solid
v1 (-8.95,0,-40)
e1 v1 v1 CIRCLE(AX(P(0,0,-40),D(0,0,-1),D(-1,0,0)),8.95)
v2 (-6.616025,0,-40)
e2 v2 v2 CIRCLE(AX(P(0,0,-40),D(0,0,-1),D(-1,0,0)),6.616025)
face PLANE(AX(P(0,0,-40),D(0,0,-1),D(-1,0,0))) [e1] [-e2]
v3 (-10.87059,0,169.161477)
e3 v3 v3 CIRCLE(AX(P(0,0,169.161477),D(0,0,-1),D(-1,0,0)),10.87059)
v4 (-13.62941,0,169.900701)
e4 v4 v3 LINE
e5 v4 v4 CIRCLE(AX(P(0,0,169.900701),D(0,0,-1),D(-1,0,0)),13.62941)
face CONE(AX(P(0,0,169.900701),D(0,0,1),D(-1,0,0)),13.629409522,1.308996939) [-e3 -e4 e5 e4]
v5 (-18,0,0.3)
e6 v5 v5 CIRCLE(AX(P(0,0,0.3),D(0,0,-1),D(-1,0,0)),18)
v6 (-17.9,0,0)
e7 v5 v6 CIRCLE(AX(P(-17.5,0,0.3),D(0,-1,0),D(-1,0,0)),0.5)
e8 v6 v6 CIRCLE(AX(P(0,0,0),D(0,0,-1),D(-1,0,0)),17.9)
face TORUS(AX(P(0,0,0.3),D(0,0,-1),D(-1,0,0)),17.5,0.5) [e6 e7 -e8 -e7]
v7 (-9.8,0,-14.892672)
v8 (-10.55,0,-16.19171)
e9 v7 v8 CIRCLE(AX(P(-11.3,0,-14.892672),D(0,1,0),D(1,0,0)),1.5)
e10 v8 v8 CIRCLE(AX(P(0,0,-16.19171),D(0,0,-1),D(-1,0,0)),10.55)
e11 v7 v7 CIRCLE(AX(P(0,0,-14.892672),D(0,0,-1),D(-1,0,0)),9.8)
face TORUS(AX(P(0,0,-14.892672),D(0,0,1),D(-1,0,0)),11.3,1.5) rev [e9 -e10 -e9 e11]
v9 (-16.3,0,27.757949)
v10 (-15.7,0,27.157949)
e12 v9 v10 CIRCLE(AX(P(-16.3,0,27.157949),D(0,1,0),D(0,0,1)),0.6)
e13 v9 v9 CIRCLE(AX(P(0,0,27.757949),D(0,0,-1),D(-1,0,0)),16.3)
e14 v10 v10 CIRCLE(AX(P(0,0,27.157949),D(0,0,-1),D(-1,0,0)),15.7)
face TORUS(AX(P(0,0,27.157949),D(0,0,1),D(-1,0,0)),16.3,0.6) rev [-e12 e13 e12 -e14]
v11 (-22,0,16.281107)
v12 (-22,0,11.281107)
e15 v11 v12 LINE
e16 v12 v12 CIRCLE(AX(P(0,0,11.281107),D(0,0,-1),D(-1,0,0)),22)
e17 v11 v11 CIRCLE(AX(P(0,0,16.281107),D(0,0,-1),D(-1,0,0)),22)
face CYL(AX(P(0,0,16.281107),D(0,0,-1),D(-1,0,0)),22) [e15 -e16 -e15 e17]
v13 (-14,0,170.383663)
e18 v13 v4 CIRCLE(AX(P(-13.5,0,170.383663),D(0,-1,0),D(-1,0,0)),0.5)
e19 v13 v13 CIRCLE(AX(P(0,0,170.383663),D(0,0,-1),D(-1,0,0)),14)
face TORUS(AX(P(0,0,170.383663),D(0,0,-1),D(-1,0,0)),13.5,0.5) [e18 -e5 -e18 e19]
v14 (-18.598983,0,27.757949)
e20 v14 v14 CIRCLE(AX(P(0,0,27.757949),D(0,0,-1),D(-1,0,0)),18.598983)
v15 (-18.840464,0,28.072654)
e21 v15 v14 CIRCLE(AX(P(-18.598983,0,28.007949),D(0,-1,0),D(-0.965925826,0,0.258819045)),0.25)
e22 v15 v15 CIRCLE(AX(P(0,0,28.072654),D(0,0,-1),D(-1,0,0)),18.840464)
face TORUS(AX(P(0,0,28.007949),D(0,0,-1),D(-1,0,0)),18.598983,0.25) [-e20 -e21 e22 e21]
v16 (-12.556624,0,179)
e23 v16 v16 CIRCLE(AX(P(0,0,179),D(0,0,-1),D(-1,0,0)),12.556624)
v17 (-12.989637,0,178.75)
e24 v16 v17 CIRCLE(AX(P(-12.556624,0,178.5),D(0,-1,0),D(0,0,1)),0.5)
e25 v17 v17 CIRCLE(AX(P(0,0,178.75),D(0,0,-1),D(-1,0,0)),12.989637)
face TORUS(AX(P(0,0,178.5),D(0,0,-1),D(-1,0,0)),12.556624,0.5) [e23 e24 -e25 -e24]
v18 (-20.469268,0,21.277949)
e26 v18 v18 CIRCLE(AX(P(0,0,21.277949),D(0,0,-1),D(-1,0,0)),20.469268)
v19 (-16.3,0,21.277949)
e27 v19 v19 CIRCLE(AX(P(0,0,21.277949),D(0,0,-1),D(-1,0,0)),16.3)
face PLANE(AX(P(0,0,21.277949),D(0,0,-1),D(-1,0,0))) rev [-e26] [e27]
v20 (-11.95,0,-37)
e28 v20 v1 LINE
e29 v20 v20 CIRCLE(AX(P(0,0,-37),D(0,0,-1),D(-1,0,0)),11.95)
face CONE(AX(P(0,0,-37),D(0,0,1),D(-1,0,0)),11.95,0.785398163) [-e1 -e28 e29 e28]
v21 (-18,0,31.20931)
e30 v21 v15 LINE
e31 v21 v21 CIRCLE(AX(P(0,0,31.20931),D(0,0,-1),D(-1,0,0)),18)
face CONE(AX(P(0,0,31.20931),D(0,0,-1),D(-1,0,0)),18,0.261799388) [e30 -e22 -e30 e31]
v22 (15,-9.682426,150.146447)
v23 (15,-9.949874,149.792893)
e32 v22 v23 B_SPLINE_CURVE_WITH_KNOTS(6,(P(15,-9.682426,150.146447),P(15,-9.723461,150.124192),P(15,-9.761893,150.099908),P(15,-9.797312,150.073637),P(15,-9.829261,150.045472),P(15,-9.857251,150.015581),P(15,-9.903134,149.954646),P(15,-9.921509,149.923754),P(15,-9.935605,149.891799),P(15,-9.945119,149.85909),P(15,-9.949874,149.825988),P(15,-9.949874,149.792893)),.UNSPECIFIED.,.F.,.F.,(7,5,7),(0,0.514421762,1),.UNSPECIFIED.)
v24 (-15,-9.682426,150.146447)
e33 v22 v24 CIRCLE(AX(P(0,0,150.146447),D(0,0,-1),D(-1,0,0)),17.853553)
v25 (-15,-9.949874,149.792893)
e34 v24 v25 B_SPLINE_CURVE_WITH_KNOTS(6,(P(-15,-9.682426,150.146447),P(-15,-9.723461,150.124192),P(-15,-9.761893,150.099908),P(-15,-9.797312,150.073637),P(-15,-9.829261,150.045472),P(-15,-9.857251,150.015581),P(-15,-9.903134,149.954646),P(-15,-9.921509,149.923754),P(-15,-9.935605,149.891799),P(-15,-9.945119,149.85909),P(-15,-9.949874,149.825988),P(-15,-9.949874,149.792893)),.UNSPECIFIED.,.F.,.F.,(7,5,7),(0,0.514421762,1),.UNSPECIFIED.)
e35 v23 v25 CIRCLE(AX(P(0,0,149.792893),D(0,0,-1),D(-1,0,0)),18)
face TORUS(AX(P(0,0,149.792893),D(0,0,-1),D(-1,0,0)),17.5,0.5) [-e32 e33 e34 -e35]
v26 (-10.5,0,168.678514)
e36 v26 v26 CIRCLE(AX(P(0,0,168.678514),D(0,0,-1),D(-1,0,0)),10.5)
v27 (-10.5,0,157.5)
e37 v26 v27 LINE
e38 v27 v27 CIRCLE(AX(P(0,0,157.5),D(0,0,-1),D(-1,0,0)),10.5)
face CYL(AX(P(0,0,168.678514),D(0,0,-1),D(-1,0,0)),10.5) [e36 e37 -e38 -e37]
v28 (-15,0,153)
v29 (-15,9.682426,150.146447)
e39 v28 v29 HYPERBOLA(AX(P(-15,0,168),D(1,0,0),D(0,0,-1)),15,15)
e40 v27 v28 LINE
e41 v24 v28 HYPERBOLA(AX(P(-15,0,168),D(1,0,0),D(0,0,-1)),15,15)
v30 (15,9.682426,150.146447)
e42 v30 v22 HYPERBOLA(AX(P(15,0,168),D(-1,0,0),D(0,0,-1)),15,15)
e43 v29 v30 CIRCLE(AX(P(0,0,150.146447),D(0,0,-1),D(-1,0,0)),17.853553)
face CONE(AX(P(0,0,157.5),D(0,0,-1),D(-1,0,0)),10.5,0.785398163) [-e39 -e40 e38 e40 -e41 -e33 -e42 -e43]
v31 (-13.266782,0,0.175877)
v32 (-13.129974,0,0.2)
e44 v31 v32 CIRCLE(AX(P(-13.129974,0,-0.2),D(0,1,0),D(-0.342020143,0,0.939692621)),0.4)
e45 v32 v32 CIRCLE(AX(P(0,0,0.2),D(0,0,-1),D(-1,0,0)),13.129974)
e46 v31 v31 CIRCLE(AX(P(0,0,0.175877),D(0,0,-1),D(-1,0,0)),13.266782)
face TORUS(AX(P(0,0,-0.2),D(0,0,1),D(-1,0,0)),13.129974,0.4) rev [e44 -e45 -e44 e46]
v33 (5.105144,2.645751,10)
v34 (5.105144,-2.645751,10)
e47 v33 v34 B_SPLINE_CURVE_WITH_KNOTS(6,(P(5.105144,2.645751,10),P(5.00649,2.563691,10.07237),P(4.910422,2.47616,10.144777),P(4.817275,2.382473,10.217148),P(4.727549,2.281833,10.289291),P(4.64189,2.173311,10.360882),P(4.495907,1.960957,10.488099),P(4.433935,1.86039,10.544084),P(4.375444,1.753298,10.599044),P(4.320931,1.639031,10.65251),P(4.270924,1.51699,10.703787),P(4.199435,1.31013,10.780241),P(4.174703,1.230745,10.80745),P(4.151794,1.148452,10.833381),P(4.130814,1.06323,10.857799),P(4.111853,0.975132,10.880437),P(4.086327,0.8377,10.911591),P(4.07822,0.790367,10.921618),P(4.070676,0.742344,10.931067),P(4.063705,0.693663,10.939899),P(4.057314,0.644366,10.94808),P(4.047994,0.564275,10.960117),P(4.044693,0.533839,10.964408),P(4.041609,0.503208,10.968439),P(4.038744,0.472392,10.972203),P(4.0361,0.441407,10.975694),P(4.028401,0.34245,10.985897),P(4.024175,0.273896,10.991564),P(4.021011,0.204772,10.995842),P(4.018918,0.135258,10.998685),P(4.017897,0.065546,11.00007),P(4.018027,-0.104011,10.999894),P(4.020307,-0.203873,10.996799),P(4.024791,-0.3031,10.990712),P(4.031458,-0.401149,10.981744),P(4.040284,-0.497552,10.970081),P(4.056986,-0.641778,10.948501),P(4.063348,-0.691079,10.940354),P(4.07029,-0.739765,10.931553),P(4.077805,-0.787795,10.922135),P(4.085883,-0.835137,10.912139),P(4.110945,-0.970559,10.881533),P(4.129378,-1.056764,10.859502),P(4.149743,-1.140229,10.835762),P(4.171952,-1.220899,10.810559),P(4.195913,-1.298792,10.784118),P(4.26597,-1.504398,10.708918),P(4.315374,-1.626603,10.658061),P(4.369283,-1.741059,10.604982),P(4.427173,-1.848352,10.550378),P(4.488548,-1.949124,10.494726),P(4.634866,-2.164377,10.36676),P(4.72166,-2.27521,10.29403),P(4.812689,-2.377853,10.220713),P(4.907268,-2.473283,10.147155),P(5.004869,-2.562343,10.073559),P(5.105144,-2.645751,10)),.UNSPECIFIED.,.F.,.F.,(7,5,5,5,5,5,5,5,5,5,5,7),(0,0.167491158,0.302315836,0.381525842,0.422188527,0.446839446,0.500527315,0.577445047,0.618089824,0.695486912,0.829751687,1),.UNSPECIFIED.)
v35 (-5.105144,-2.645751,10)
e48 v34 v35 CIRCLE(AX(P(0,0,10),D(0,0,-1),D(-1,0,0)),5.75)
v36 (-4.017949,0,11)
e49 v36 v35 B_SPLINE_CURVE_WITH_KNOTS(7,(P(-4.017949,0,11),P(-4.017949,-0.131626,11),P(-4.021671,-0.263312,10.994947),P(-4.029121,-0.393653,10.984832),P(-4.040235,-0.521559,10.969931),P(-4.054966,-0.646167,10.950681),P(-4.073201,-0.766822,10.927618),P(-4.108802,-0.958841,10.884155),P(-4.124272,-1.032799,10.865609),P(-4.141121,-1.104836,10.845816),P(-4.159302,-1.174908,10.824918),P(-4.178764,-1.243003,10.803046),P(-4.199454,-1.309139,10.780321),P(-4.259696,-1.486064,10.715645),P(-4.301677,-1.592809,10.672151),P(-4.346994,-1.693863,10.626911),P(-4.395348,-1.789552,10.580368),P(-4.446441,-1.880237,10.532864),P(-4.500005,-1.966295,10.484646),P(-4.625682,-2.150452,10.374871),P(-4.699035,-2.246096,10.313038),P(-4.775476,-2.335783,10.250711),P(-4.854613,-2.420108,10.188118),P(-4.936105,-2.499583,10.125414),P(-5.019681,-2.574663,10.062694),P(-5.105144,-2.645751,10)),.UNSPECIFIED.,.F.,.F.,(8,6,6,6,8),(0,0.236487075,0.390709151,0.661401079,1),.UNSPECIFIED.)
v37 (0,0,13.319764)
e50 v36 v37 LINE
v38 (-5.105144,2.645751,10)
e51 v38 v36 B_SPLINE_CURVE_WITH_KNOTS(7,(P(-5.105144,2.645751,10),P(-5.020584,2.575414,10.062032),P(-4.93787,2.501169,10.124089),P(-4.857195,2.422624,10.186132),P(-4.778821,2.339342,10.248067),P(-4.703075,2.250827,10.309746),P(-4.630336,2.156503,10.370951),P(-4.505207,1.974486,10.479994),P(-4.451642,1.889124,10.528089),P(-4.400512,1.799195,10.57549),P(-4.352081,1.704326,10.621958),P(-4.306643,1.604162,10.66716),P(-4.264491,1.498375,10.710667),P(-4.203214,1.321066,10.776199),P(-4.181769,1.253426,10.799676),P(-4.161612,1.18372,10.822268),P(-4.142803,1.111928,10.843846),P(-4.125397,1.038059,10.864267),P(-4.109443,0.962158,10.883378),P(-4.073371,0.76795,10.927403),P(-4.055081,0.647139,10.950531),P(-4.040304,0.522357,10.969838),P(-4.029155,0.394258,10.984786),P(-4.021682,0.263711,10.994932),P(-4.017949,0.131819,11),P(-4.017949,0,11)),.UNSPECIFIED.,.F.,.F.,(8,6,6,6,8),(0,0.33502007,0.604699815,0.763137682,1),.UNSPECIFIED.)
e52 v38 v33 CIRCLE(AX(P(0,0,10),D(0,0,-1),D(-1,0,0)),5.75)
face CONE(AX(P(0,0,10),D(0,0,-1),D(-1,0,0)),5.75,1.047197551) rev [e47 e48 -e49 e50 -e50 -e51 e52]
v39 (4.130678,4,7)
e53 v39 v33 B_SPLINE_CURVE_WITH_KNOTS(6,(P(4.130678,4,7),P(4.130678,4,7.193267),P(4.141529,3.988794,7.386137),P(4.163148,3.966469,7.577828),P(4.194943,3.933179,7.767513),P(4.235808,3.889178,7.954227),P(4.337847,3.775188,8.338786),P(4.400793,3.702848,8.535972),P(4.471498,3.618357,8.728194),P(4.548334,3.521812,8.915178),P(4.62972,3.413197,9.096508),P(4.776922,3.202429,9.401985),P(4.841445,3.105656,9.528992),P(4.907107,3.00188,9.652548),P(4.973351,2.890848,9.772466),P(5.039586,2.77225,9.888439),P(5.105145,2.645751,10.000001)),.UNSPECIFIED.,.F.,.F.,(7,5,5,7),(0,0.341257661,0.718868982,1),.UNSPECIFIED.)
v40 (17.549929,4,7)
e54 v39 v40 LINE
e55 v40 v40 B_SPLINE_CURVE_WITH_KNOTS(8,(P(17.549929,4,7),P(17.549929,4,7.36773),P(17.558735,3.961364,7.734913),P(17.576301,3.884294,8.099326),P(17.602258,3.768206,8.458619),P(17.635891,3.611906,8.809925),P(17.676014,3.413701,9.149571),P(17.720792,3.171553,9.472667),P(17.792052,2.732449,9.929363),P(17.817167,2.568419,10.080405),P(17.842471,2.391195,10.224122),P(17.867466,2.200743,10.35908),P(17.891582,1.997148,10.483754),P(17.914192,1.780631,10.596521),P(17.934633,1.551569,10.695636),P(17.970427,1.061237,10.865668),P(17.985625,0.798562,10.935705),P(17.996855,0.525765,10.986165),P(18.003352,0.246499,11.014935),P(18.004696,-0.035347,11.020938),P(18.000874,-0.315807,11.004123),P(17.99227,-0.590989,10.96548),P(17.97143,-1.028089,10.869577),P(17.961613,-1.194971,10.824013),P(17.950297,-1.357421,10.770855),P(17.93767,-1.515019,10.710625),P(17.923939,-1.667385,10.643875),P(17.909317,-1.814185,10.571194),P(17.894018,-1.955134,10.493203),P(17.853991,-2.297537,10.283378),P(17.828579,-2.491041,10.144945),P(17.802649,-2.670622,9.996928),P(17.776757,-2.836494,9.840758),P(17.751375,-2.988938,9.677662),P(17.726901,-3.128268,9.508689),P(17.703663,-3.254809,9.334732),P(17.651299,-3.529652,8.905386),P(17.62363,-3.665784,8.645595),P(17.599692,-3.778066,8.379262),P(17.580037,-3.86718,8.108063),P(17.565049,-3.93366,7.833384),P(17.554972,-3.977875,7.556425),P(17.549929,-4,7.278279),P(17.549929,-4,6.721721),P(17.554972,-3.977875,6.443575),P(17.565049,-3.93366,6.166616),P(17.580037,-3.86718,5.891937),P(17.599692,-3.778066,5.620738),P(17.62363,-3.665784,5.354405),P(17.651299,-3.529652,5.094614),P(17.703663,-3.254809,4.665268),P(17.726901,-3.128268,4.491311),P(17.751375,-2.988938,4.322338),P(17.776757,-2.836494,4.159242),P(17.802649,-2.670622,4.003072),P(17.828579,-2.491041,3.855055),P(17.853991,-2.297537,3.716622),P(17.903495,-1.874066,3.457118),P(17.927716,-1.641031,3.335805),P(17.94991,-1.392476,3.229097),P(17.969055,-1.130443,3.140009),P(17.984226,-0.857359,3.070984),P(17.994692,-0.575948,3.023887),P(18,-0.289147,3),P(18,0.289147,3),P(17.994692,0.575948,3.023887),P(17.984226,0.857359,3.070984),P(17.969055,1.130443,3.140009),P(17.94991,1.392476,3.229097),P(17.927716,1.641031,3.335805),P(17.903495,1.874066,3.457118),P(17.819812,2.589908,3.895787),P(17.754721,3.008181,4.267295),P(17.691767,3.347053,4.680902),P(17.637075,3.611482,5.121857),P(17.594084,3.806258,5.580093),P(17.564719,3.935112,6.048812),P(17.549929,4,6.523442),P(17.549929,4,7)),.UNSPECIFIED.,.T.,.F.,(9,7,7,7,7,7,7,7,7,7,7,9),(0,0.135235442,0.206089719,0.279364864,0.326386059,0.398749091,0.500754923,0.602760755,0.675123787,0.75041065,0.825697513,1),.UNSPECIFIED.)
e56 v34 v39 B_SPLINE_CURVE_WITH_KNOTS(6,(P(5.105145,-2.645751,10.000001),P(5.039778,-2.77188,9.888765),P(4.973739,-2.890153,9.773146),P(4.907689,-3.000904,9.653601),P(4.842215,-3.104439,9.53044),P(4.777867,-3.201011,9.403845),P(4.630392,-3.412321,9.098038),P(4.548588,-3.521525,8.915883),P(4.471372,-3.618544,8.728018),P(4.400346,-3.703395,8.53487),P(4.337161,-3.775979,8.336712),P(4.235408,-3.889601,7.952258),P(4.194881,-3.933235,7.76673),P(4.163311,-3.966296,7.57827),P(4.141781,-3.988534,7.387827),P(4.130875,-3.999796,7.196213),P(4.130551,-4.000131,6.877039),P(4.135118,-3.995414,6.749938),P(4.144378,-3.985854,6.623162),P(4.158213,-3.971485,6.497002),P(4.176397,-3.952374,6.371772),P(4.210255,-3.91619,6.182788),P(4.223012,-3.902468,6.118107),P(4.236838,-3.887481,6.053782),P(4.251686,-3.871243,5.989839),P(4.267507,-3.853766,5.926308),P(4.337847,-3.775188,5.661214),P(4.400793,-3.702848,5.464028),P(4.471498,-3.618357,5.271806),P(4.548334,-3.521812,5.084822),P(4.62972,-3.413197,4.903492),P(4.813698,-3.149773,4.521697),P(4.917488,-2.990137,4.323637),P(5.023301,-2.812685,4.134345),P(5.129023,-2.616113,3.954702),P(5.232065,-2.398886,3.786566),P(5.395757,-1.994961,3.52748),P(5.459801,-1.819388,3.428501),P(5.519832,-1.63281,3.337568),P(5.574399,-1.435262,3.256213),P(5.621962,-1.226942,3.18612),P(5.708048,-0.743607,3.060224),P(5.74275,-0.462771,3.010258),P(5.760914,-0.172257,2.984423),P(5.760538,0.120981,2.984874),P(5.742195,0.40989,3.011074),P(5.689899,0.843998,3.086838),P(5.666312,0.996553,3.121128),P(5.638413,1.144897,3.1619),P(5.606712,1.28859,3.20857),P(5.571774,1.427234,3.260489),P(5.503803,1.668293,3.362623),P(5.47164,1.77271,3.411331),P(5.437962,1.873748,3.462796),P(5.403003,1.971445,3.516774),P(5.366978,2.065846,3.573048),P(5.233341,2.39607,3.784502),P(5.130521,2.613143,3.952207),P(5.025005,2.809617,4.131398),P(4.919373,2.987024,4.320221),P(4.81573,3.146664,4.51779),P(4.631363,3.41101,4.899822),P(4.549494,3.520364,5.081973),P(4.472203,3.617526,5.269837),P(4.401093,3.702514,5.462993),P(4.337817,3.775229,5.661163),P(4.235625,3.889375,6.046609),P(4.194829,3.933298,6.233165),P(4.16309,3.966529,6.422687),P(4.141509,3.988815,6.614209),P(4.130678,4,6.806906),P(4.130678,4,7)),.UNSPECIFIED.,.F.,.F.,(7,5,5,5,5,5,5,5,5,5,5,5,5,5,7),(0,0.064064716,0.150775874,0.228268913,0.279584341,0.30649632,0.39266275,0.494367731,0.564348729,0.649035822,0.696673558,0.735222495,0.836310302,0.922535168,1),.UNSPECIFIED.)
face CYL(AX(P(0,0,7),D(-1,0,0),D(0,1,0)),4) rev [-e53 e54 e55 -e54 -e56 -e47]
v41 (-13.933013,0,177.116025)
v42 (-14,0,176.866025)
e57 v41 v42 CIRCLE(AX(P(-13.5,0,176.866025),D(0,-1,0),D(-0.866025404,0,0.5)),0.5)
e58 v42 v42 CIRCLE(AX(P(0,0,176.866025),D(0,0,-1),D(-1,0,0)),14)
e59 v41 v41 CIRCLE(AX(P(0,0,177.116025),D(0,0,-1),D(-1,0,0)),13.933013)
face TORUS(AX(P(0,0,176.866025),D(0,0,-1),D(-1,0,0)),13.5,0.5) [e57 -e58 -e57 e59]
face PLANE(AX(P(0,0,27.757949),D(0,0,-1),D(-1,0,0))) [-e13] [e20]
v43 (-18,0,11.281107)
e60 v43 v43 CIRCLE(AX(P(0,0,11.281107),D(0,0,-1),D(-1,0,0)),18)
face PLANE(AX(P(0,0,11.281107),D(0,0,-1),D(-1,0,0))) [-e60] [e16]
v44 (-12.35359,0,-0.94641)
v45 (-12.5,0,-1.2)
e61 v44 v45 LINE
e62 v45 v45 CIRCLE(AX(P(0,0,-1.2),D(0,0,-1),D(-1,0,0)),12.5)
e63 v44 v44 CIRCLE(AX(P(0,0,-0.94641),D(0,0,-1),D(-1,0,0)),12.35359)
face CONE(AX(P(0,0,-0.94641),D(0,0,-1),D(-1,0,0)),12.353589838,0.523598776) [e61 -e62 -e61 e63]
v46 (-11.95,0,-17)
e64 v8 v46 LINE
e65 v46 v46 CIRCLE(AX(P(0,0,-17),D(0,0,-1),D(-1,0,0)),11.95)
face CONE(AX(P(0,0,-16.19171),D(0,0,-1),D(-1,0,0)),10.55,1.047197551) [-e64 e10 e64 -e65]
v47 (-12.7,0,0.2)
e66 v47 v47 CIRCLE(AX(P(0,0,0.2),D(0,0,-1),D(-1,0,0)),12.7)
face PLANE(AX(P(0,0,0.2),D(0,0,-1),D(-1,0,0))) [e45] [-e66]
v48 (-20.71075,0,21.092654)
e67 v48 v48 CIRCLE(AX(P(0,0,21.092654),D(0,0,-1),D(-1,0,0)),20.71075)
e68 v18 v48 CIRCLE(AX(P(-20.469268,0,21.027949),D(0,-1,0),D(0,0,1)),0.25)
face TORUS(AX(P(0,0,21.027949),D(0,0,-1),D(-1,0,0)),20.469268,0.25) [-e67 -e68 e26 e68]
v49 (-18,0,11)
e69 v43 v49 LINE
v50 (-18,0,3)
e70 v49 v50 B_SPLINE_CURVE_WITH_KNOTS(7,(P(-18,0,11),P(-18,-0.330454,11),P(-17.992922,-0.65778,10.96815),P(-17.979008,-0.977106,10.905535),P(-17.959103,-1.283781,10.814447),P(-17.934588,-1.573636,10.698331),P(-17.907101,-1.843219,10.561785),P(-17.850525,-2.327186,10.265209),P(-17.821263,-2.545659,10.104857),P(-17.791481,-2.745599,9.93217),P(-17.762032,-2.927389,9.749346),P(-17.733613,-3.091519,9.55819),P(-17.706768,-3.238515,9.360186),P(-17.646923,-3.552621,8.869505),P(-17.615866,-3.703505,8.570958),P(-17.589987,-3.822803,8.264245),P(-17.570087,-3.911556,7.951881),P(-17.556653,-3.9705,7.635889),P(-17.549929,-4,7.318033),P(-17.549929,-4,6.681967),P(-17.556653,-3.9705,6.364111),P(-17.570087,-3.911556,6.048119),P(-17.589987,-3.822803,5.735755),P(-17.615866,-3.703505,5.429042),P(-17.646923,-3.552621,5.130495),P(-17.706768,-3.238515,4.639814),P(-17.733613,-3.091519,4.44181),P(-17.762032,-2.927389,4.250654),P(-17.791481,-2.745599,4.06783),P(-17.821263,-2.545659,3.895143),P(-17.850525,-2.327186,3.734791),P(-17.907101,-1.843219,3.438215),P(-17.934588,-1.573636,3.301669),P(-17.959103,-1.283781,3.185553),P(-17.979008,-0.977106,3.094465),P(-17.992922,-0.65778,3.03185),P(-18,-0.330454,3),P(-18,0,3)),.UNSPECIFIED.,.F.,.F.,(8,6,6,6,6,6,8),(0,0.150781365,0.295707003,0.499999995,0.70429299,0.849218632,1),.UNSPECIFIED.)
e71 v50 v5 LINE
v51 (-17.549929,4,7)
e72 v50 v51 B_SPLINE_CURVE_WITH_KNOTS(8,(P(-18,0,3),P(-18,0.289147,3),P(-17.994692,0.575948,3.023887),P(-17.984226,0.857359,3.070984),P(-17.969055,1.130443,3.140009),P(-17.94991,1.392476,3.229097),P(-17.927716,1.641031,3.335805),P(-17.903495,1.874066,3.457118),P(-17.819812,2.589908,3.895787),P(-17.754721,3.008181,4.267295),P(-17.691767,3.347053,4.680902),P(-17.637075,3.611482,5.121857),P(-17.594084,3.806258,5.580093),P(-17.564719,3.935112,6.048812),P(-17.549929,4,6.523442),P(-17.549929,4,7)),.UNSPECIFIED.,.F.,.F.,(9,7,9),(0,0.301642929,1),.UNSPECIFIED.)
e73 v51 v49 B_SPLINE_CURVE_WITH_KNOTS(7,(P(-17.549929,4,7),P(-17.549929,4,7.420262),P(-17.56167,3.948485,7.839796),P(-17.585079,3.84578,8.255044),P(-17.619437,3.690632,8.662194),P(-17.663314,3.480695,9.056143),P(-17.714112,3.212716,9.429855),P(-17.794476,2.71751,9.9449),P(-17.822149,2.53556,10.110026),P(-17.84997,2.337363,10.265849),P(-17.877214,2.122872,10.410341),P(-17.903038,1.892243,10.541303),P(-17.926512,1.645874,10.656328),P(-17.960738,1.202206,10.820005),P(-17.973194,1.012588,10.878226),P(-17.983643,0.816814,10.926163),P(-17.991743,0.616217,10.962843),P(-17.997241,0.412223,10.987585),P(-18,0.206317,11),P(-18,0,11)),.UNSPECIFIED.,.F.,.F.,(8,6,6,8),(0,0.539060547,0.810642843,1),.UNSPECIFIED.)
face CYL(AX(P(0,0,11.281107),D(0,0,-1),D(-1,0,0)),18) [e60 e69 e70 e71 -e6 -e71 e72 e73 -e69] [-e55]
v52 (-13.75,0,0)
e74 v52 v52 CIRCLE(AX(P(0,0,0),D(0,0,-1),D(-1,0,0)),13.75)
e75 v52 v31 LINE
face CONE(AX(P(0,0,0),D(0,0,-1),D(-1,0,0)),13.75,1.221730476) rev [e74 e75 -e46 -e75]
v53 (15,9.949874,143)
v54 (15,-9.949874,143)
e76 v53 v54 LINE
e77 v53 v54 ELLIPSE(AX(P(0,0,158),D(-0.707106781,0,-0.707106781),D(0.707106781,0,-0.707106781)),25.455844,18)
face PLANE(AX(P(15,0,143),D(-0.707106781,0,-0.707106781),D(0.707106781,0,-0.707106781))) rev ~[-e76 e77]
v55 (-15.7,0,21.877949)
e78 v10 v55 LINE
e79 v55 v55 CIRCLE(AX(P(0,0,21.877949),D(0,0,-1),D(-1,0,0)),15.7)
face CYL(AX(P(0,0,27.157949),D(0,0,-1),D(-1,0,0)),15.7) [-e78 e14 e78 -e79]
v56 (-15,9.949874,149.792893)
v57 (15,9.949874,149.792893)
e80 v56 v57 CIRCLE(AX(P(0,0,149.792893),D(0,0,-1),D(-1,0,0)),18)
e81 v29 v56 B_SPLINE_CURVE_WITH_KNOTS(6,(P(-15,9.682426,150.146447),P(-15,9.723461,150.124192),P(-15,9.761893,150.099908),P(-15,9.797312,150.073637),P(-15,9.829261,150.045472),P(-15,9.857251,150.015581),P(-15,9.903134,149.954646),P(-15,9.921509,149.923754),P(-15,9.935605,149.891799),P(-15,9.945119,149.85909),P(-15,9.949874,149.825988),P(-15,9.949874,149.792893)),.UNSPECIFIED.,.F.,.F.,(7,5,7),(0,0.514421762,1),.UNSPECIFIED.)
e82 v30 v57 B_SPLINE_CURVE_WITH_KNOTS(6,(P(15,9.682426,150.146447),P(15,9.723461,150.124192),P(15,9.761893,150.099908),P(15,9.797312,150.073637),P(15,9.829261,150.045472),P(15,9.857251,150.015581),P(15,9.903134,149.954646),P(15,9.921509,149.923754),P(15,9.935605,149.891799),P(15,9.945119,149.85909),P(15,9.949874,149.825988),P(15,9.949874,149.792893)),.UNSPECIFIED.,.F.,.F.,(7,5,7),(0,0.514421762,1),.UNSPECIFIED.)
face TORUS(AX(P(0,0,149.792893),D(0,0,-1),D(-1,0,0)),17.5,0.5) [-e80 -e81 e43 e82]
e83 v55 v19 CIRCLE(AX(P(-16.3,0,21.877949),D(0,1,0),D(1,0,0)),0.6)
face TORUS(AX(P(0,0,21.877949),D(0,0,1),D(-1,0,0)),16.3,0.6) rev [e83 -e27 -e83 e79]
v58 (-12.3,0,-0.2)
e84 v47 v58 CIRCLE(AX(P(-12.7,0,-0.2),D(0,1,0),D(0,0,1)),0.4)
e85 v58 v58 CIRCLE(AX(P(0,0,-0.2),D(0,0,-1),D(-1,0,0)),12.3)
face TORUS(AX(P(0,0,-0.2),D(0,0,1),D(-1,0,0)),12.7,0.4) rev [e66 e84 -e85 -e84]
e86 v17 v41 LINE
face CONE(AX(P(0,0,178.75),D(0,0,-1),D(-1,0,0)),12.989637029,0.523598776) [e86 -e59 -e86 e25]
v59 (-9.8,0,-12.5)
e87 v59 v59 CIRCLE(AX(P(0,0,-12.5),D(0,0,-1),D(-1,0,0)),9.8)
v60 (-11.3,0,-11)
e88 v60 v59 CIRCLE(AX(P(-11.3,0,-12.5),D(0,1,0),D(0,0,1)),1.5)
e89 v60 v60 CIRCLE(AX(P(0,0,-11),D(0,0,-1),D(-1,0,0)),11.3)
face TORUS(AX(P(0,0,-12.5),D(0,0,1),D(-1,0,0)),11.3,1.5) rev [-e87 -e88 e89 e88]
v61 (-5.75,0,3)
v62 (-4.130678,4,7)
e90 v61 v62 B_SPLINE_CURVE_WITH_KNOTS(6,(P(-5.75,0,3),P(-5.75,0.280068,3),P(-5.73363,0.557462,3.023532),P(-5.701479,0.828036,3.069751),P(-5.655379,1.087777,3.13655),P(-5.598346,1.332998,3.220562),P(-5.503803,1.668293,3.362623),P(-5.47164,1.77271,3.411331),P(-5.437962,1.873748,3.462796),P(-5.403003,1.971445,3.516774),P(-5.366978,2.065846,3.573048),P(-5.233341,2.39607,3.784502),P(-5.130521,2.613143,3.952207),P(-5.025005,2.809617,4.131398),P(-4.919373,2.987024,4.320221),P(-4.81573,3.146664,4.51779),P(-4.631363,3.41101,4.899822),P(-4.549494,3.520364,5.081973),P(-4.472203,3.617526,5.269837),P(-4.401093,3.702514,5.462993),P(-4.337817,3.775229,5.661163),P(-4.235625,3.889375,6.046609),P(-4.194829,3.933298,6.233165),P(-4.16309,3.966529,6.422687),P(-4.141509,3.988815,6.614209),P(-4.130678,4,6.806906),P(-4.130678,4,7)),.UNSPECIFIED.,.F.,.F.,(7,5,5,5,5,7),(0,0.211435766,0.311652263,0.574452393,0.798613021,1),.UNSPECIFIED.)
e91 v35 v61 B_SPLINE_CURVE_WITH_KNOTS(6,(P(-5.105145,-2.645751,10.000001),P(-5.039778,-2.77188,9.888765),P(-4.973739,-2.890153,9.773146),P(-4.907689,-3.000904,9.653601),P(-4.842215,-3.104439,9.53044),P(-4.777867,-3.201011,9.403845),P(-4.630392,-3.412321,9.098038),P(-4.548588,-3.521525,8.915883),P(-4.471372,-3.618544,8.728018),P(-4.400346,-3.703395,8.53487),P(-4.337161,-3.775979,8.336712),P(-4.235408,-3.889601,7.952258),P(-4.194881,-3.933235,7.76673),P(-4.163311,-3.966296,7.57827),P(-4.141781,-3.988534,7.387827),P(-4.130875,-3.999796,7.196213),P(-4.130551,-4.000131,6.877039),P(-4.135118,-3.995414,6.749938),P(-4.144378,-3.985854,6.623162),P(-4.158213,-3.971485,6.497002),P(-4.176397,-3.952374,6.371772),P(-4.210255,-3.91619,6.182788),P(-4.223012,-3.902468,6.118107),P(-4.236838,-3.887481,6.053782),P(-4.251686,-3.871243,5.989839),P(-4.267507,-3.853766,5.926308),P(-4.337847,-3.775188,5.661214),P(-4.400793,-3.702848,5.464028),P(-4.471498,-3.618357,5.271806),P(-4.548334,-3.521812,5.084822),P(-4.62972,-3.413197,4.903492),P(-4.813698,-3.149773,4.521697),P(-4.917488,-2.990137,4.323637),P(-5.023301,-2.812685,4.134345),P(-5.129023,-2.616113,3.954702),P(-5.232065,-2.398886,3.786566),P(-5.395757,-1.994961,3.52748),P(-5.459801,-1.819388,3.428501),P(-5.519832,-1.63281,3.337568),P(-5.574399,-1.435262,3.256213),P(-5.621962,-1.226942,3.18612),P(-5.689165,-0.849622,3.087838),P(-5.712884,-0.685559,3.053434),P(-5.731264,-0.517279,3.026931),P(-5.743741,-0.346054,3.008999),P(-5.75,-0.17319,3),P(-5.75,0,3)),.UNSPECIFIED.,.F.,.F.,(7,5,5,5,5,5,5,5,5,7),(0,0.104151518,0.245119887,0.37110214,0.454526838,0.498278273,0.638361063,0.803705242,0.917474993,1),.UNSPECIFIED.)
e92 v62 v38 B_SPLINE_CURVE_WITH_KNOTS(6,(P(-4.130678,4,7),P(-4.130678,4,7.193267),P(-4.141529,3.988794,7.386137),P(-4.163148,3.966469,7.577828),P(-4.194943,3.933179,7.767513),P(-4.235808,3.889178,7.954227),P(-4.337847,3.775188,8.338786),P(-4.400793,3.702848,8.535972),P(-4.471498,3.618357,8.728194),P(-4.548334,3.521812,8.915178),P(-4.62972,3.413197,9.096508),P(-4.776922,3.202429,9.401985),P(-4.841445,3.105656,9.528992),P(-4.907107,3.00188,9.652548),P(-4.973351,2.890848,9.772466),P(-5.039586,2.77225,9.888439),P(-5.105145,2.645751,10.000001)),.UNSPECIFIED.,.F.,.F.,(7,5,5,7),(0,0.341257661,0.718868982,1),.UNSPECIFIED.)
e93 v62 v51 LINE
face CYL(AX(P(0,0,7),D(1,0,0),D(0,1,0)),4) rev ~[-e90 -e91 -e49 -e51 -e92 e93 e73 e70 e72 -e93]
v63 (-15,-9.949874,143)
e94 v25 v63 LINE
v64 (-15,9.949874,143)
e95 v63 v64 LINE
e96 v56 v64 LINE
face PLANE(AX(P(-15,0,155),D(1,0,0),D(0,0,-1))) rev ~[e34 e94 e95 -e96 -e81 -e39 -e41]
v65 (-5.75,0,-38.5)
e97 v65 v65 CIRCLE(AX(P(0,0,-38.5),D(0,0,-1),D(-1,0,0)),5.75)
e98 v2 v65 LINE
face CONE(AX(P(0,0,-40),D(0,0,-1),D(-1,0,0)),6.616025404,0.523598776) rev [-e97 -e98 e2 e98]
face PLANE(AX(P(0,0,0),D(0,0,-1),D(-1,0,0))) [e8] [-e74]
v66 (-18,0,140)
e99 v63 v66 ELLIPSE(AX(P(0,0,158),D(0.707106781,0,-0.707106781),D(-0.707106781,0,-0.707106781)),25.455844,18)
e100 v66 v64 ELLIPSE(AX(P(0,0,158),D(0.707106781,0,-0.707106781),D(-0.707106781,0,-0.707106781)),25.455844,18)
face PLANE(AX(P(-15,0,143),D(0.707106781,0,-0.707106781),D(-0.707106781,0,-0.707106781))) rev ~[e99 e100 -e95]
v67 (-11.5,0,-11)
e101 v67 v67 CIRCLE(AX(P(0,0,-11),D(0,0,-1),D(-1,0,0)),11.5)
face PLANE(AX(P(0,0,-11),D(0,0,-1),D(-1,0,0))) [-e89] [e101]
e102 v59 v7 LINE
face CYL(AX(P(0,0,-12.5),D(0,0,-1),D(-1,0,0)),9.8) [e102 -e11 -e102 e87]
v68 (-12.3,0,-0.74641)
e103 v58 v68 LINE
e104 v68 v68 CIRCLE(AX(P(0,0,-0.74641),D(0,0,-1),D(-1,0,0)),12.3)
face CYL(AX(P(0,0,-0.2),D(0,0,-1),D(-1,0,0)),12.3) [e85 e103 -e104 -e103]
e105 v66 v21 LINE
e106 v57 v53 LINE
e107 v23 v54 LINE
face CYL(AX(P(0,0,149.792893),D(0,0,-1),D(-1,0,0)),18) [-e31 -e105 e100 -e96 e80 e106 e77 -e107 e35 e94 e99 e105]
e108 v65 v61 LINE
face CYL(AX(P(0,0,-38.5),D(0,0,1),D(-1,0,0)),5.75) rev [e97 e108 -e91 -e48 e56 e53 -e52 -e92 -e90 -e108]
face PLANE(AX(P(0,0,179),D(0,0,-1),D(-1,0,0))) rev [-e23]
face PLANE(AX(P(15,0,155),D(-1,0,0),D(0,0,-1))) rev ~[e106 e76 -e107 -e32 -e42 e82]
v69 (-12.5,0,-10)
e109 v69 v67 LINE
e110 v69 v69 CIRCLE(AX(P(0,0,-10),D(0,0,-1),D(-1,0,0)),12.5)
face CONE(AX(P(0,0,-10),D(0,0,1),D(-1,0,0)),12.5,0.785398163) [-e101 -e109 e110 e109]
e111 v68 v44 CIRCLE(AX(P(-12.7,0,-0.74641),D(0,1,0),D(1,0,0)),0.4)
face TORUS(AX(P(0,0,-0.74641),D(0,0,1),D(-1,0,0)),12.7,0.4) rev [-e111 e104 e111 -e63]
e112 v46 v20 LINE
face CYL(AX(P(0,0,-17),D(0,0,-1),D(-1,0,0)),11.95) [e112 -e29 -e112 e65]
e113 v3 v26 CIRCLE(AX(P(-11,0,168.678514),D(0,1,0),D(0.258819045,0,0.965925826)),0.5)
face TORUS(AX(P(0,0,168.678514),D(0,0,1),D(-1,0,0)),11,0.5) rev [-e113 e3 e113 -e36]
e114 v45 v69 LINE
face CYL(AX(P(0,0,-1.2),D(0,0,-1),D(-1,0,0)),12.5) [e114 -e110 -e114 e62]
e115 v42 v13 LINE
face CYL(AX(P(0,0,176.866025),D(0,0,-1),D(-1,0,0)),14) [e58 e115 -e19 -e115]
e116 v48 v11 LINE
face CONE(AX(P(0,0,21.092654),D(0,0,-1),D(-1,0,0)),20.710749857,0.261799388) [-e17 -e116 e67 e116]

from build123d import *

# Parameters (mm, degrees)
F3_DEPTH      = 12
F3_DEPTH_BACK = 12
F4_COUNT      = 2
F6_R          = 4
F7_DEPTH      = 22.001
F7_DEPTH_BACK = 22.001


with BuildPart() as f1:
    # F0 (on Front) → F1 (revolve)
    with BuildSketch(Plane.XZ):
        with BuildLine():
            Line((0, 13.3197640476), (0, 178.9999999999))
            Line((0, 178.9999999999), (-12.5566243271, 178.9999999999))
            ThreePointArc((-12.5566243271, 178.9999999999), (-12.8066243271, 178.9330127018), (-12.989637029, 178.7499999999))
            Line((-12.989637029, 178.7499999999), (-13.9330127019, 177.1160254037))
            ThreePointArc((-13.9330127019, 177.1160254037), (-13.9829629132, 176.9954349262), (-14, 176.8660254037))
            Line((-14, 176.8660254037), (-14, 170.3836634939))
            ThreePointArc((-14, 170.3836634939), (-13.8966766701, 170.0792827793), (-13.6294095225, 169.9007005807))
            Line((-13.6294095225, 169.9007005807), (-10.8705904774, 169.1614772455))
            ThreePointArc((-10.8705904774, 169.1614772455), (-10.6033233298, 168.9828950468), (-10.5, 168.6785143324))
            Line((-10.5, 168.6785143324), (-10.5, 157.5))
            Line((-10.5, 157.5), (-17.8535533906, 150.1464466094))
            ThreePointArc((-17.8535533906, 150.1464466094), (-17.9619397662, 149.984234935), (-18, 149.7928932188))
            Line((-18, 149.7928932188), (-18, 31.2093101465))
            Line((-18, 31.2093101465), (-18.8404644938, 28.0726539537))
            ThreePointArc((-18.8404644938, 28.0726539537), (-18.7973213723, 27.8557588352), (-18.5989830372, 27.7579491924))
            Line((-18.5989830372, 27.7579491924), (-16.3, 27.7579491924))
            ThreePointArc((-16.3, 27.7579491924), (-15.8757359313, 27.5822132611), (-15.7, 27.1579491924))
            Line((-15.7, 27.1579491924), (-15.7, 21.8779491924))
            ThreePointArc((-15.7, 21.8779491924), (-15.8757359313, 21.4536851237), (-16.3, 21.2779491924))
            Line((-16.3, 21.2779491924), (-20.4692684004, 21.2779491924))
            ThreePointArc((-20.4692684004, 21.2779491924), (-20.6214587577, 21.2262875275), (-20.710749857, 21.0926539537))
            Line((-20.710749857, 21.0926539537), (-22, 16.2811069163))
            Line((-22, 16.2811069163), (-22, 11.2811069163))
            Line((-22, 11.2811069163), (-18, 11.2811069163))
            Line((-18, 11.2811069163), (-18, 0.3))
            ThreePointArc((-18, 0.3), (-17.974341649, 0.141886117), (-17.9, 0))
            Line((-17.9, 0), (-13.75, 0))
            Line((-13.75, 0), (-13.2667817812, 0.1758770483))
            ThreePointArc((-13.2667817812, 0.1758770483), (-13.1994329949, 0.1939231012), (-13.1299737239, 0.2))
            Line((-13.1299737239, 0.2), (-12.7, 0.2))
            ThreePointArc((-12.7, 0.2), (-12.4171572875, 0.0828427125), (-12.3, -0.2))
            Line((-12.3, -0.2), (-12.3, -0.7464101615))
            ThreePointArc((-12.3, -0.7464101615), (-12.3136296695, -0.8499377796), (-12.3535898385, -0.9464101615))
            Line((-12.3535898385, -0.9464101615), (-12.5, -1.2))
            Line((-12.5, -1.2), (-12.5, -9.9999999998))
            Line((-12.5, -9.9999999998), (-11.5, -10.9999999998))
            Line((-11.5, -10.9999999998), (-11.2999999998, -10.9999999998))
            ThreePointArc((-11.2999999998, -10.9999999998), (-10.239339828, -11.439339828), (-9.7999999998, -12.4999999998))
            Line((-9.7999999998, -12.4999999998), (-9.7999999998, -14.8926715178))
            ThreePointArc((-9.7999999998, -14.8926715178), (-10.0009618941, -15.6426715176), (-10.5499999997, -16.1917096232))
            Line((-10.5499999997, -16.1917096232), (-11.9499999998, -17.0000000001))
            Line((-11.9499999998, -17.0000000001), (-11.9499999998, -37.0000000001))
            Line((-11.9499999998, -37.0000000001), (-8.9499999998, -40.0000000001))
            Line((-8.9499999998, -40.0000000001), (-6.6160254036, -40.0000000001))
            Line((-6.6160254036, -40.0000000001), (-5.7499999998, -38.5000000001))
            Line((-5.7499999998, -38.5000000001), (-5.7499999998, 9.9999999999))
            Line((-5.7499999998, 9.9999999999), (0, 13.3197640476))
        make_face()
    revolve(axis=Axis((0, 0, 0), (0, 0, -1)))


with BuildPart() as f3:
    # F2 (on Front) → F3 (new body, two sides)
    with BuildSketch(Plane.XZ) as f3_sk:
        Polygon((20, 154.9999999999), (15, 154.9999999999), (15, 142.9999999999), (20, 137.9999999999), align=None)
    extrude(amount=F3_DEPTH)
    extrude(f3_sk.sketch, amount=-F3_DEPTH_BACK)


with BuildPart() as f4_1:
    # F4: instance of F3
    add(f3.part.rotate(Axis((0, 0, 149.7928932188), (0, 0, -1)), 1 * 360 / F4_COUNT))


with BuildPart() as f1_1:
    add(f1.part)

    # F5: cut F4_1, F3
    add(f4_1.part, mode=Mode.SUBTRACT)
    add(f3.part, mode=Mode.SUBTRACT)

    # F6 (on Right) → F7 (cut, two sides)
    with BuildSketch(Plane.YZ) as f7_sk:
        with Locations((0, 7)):
            Circle(F6_R)
    extrude(amount=-F7_DEPTH, mode=Mode.SUBTRACT)
    extrude(f7_sk.sketch, amount=F7_DEPTH_BACK, mode=Mode.SUBTRACT)


solid = f1_1.part
